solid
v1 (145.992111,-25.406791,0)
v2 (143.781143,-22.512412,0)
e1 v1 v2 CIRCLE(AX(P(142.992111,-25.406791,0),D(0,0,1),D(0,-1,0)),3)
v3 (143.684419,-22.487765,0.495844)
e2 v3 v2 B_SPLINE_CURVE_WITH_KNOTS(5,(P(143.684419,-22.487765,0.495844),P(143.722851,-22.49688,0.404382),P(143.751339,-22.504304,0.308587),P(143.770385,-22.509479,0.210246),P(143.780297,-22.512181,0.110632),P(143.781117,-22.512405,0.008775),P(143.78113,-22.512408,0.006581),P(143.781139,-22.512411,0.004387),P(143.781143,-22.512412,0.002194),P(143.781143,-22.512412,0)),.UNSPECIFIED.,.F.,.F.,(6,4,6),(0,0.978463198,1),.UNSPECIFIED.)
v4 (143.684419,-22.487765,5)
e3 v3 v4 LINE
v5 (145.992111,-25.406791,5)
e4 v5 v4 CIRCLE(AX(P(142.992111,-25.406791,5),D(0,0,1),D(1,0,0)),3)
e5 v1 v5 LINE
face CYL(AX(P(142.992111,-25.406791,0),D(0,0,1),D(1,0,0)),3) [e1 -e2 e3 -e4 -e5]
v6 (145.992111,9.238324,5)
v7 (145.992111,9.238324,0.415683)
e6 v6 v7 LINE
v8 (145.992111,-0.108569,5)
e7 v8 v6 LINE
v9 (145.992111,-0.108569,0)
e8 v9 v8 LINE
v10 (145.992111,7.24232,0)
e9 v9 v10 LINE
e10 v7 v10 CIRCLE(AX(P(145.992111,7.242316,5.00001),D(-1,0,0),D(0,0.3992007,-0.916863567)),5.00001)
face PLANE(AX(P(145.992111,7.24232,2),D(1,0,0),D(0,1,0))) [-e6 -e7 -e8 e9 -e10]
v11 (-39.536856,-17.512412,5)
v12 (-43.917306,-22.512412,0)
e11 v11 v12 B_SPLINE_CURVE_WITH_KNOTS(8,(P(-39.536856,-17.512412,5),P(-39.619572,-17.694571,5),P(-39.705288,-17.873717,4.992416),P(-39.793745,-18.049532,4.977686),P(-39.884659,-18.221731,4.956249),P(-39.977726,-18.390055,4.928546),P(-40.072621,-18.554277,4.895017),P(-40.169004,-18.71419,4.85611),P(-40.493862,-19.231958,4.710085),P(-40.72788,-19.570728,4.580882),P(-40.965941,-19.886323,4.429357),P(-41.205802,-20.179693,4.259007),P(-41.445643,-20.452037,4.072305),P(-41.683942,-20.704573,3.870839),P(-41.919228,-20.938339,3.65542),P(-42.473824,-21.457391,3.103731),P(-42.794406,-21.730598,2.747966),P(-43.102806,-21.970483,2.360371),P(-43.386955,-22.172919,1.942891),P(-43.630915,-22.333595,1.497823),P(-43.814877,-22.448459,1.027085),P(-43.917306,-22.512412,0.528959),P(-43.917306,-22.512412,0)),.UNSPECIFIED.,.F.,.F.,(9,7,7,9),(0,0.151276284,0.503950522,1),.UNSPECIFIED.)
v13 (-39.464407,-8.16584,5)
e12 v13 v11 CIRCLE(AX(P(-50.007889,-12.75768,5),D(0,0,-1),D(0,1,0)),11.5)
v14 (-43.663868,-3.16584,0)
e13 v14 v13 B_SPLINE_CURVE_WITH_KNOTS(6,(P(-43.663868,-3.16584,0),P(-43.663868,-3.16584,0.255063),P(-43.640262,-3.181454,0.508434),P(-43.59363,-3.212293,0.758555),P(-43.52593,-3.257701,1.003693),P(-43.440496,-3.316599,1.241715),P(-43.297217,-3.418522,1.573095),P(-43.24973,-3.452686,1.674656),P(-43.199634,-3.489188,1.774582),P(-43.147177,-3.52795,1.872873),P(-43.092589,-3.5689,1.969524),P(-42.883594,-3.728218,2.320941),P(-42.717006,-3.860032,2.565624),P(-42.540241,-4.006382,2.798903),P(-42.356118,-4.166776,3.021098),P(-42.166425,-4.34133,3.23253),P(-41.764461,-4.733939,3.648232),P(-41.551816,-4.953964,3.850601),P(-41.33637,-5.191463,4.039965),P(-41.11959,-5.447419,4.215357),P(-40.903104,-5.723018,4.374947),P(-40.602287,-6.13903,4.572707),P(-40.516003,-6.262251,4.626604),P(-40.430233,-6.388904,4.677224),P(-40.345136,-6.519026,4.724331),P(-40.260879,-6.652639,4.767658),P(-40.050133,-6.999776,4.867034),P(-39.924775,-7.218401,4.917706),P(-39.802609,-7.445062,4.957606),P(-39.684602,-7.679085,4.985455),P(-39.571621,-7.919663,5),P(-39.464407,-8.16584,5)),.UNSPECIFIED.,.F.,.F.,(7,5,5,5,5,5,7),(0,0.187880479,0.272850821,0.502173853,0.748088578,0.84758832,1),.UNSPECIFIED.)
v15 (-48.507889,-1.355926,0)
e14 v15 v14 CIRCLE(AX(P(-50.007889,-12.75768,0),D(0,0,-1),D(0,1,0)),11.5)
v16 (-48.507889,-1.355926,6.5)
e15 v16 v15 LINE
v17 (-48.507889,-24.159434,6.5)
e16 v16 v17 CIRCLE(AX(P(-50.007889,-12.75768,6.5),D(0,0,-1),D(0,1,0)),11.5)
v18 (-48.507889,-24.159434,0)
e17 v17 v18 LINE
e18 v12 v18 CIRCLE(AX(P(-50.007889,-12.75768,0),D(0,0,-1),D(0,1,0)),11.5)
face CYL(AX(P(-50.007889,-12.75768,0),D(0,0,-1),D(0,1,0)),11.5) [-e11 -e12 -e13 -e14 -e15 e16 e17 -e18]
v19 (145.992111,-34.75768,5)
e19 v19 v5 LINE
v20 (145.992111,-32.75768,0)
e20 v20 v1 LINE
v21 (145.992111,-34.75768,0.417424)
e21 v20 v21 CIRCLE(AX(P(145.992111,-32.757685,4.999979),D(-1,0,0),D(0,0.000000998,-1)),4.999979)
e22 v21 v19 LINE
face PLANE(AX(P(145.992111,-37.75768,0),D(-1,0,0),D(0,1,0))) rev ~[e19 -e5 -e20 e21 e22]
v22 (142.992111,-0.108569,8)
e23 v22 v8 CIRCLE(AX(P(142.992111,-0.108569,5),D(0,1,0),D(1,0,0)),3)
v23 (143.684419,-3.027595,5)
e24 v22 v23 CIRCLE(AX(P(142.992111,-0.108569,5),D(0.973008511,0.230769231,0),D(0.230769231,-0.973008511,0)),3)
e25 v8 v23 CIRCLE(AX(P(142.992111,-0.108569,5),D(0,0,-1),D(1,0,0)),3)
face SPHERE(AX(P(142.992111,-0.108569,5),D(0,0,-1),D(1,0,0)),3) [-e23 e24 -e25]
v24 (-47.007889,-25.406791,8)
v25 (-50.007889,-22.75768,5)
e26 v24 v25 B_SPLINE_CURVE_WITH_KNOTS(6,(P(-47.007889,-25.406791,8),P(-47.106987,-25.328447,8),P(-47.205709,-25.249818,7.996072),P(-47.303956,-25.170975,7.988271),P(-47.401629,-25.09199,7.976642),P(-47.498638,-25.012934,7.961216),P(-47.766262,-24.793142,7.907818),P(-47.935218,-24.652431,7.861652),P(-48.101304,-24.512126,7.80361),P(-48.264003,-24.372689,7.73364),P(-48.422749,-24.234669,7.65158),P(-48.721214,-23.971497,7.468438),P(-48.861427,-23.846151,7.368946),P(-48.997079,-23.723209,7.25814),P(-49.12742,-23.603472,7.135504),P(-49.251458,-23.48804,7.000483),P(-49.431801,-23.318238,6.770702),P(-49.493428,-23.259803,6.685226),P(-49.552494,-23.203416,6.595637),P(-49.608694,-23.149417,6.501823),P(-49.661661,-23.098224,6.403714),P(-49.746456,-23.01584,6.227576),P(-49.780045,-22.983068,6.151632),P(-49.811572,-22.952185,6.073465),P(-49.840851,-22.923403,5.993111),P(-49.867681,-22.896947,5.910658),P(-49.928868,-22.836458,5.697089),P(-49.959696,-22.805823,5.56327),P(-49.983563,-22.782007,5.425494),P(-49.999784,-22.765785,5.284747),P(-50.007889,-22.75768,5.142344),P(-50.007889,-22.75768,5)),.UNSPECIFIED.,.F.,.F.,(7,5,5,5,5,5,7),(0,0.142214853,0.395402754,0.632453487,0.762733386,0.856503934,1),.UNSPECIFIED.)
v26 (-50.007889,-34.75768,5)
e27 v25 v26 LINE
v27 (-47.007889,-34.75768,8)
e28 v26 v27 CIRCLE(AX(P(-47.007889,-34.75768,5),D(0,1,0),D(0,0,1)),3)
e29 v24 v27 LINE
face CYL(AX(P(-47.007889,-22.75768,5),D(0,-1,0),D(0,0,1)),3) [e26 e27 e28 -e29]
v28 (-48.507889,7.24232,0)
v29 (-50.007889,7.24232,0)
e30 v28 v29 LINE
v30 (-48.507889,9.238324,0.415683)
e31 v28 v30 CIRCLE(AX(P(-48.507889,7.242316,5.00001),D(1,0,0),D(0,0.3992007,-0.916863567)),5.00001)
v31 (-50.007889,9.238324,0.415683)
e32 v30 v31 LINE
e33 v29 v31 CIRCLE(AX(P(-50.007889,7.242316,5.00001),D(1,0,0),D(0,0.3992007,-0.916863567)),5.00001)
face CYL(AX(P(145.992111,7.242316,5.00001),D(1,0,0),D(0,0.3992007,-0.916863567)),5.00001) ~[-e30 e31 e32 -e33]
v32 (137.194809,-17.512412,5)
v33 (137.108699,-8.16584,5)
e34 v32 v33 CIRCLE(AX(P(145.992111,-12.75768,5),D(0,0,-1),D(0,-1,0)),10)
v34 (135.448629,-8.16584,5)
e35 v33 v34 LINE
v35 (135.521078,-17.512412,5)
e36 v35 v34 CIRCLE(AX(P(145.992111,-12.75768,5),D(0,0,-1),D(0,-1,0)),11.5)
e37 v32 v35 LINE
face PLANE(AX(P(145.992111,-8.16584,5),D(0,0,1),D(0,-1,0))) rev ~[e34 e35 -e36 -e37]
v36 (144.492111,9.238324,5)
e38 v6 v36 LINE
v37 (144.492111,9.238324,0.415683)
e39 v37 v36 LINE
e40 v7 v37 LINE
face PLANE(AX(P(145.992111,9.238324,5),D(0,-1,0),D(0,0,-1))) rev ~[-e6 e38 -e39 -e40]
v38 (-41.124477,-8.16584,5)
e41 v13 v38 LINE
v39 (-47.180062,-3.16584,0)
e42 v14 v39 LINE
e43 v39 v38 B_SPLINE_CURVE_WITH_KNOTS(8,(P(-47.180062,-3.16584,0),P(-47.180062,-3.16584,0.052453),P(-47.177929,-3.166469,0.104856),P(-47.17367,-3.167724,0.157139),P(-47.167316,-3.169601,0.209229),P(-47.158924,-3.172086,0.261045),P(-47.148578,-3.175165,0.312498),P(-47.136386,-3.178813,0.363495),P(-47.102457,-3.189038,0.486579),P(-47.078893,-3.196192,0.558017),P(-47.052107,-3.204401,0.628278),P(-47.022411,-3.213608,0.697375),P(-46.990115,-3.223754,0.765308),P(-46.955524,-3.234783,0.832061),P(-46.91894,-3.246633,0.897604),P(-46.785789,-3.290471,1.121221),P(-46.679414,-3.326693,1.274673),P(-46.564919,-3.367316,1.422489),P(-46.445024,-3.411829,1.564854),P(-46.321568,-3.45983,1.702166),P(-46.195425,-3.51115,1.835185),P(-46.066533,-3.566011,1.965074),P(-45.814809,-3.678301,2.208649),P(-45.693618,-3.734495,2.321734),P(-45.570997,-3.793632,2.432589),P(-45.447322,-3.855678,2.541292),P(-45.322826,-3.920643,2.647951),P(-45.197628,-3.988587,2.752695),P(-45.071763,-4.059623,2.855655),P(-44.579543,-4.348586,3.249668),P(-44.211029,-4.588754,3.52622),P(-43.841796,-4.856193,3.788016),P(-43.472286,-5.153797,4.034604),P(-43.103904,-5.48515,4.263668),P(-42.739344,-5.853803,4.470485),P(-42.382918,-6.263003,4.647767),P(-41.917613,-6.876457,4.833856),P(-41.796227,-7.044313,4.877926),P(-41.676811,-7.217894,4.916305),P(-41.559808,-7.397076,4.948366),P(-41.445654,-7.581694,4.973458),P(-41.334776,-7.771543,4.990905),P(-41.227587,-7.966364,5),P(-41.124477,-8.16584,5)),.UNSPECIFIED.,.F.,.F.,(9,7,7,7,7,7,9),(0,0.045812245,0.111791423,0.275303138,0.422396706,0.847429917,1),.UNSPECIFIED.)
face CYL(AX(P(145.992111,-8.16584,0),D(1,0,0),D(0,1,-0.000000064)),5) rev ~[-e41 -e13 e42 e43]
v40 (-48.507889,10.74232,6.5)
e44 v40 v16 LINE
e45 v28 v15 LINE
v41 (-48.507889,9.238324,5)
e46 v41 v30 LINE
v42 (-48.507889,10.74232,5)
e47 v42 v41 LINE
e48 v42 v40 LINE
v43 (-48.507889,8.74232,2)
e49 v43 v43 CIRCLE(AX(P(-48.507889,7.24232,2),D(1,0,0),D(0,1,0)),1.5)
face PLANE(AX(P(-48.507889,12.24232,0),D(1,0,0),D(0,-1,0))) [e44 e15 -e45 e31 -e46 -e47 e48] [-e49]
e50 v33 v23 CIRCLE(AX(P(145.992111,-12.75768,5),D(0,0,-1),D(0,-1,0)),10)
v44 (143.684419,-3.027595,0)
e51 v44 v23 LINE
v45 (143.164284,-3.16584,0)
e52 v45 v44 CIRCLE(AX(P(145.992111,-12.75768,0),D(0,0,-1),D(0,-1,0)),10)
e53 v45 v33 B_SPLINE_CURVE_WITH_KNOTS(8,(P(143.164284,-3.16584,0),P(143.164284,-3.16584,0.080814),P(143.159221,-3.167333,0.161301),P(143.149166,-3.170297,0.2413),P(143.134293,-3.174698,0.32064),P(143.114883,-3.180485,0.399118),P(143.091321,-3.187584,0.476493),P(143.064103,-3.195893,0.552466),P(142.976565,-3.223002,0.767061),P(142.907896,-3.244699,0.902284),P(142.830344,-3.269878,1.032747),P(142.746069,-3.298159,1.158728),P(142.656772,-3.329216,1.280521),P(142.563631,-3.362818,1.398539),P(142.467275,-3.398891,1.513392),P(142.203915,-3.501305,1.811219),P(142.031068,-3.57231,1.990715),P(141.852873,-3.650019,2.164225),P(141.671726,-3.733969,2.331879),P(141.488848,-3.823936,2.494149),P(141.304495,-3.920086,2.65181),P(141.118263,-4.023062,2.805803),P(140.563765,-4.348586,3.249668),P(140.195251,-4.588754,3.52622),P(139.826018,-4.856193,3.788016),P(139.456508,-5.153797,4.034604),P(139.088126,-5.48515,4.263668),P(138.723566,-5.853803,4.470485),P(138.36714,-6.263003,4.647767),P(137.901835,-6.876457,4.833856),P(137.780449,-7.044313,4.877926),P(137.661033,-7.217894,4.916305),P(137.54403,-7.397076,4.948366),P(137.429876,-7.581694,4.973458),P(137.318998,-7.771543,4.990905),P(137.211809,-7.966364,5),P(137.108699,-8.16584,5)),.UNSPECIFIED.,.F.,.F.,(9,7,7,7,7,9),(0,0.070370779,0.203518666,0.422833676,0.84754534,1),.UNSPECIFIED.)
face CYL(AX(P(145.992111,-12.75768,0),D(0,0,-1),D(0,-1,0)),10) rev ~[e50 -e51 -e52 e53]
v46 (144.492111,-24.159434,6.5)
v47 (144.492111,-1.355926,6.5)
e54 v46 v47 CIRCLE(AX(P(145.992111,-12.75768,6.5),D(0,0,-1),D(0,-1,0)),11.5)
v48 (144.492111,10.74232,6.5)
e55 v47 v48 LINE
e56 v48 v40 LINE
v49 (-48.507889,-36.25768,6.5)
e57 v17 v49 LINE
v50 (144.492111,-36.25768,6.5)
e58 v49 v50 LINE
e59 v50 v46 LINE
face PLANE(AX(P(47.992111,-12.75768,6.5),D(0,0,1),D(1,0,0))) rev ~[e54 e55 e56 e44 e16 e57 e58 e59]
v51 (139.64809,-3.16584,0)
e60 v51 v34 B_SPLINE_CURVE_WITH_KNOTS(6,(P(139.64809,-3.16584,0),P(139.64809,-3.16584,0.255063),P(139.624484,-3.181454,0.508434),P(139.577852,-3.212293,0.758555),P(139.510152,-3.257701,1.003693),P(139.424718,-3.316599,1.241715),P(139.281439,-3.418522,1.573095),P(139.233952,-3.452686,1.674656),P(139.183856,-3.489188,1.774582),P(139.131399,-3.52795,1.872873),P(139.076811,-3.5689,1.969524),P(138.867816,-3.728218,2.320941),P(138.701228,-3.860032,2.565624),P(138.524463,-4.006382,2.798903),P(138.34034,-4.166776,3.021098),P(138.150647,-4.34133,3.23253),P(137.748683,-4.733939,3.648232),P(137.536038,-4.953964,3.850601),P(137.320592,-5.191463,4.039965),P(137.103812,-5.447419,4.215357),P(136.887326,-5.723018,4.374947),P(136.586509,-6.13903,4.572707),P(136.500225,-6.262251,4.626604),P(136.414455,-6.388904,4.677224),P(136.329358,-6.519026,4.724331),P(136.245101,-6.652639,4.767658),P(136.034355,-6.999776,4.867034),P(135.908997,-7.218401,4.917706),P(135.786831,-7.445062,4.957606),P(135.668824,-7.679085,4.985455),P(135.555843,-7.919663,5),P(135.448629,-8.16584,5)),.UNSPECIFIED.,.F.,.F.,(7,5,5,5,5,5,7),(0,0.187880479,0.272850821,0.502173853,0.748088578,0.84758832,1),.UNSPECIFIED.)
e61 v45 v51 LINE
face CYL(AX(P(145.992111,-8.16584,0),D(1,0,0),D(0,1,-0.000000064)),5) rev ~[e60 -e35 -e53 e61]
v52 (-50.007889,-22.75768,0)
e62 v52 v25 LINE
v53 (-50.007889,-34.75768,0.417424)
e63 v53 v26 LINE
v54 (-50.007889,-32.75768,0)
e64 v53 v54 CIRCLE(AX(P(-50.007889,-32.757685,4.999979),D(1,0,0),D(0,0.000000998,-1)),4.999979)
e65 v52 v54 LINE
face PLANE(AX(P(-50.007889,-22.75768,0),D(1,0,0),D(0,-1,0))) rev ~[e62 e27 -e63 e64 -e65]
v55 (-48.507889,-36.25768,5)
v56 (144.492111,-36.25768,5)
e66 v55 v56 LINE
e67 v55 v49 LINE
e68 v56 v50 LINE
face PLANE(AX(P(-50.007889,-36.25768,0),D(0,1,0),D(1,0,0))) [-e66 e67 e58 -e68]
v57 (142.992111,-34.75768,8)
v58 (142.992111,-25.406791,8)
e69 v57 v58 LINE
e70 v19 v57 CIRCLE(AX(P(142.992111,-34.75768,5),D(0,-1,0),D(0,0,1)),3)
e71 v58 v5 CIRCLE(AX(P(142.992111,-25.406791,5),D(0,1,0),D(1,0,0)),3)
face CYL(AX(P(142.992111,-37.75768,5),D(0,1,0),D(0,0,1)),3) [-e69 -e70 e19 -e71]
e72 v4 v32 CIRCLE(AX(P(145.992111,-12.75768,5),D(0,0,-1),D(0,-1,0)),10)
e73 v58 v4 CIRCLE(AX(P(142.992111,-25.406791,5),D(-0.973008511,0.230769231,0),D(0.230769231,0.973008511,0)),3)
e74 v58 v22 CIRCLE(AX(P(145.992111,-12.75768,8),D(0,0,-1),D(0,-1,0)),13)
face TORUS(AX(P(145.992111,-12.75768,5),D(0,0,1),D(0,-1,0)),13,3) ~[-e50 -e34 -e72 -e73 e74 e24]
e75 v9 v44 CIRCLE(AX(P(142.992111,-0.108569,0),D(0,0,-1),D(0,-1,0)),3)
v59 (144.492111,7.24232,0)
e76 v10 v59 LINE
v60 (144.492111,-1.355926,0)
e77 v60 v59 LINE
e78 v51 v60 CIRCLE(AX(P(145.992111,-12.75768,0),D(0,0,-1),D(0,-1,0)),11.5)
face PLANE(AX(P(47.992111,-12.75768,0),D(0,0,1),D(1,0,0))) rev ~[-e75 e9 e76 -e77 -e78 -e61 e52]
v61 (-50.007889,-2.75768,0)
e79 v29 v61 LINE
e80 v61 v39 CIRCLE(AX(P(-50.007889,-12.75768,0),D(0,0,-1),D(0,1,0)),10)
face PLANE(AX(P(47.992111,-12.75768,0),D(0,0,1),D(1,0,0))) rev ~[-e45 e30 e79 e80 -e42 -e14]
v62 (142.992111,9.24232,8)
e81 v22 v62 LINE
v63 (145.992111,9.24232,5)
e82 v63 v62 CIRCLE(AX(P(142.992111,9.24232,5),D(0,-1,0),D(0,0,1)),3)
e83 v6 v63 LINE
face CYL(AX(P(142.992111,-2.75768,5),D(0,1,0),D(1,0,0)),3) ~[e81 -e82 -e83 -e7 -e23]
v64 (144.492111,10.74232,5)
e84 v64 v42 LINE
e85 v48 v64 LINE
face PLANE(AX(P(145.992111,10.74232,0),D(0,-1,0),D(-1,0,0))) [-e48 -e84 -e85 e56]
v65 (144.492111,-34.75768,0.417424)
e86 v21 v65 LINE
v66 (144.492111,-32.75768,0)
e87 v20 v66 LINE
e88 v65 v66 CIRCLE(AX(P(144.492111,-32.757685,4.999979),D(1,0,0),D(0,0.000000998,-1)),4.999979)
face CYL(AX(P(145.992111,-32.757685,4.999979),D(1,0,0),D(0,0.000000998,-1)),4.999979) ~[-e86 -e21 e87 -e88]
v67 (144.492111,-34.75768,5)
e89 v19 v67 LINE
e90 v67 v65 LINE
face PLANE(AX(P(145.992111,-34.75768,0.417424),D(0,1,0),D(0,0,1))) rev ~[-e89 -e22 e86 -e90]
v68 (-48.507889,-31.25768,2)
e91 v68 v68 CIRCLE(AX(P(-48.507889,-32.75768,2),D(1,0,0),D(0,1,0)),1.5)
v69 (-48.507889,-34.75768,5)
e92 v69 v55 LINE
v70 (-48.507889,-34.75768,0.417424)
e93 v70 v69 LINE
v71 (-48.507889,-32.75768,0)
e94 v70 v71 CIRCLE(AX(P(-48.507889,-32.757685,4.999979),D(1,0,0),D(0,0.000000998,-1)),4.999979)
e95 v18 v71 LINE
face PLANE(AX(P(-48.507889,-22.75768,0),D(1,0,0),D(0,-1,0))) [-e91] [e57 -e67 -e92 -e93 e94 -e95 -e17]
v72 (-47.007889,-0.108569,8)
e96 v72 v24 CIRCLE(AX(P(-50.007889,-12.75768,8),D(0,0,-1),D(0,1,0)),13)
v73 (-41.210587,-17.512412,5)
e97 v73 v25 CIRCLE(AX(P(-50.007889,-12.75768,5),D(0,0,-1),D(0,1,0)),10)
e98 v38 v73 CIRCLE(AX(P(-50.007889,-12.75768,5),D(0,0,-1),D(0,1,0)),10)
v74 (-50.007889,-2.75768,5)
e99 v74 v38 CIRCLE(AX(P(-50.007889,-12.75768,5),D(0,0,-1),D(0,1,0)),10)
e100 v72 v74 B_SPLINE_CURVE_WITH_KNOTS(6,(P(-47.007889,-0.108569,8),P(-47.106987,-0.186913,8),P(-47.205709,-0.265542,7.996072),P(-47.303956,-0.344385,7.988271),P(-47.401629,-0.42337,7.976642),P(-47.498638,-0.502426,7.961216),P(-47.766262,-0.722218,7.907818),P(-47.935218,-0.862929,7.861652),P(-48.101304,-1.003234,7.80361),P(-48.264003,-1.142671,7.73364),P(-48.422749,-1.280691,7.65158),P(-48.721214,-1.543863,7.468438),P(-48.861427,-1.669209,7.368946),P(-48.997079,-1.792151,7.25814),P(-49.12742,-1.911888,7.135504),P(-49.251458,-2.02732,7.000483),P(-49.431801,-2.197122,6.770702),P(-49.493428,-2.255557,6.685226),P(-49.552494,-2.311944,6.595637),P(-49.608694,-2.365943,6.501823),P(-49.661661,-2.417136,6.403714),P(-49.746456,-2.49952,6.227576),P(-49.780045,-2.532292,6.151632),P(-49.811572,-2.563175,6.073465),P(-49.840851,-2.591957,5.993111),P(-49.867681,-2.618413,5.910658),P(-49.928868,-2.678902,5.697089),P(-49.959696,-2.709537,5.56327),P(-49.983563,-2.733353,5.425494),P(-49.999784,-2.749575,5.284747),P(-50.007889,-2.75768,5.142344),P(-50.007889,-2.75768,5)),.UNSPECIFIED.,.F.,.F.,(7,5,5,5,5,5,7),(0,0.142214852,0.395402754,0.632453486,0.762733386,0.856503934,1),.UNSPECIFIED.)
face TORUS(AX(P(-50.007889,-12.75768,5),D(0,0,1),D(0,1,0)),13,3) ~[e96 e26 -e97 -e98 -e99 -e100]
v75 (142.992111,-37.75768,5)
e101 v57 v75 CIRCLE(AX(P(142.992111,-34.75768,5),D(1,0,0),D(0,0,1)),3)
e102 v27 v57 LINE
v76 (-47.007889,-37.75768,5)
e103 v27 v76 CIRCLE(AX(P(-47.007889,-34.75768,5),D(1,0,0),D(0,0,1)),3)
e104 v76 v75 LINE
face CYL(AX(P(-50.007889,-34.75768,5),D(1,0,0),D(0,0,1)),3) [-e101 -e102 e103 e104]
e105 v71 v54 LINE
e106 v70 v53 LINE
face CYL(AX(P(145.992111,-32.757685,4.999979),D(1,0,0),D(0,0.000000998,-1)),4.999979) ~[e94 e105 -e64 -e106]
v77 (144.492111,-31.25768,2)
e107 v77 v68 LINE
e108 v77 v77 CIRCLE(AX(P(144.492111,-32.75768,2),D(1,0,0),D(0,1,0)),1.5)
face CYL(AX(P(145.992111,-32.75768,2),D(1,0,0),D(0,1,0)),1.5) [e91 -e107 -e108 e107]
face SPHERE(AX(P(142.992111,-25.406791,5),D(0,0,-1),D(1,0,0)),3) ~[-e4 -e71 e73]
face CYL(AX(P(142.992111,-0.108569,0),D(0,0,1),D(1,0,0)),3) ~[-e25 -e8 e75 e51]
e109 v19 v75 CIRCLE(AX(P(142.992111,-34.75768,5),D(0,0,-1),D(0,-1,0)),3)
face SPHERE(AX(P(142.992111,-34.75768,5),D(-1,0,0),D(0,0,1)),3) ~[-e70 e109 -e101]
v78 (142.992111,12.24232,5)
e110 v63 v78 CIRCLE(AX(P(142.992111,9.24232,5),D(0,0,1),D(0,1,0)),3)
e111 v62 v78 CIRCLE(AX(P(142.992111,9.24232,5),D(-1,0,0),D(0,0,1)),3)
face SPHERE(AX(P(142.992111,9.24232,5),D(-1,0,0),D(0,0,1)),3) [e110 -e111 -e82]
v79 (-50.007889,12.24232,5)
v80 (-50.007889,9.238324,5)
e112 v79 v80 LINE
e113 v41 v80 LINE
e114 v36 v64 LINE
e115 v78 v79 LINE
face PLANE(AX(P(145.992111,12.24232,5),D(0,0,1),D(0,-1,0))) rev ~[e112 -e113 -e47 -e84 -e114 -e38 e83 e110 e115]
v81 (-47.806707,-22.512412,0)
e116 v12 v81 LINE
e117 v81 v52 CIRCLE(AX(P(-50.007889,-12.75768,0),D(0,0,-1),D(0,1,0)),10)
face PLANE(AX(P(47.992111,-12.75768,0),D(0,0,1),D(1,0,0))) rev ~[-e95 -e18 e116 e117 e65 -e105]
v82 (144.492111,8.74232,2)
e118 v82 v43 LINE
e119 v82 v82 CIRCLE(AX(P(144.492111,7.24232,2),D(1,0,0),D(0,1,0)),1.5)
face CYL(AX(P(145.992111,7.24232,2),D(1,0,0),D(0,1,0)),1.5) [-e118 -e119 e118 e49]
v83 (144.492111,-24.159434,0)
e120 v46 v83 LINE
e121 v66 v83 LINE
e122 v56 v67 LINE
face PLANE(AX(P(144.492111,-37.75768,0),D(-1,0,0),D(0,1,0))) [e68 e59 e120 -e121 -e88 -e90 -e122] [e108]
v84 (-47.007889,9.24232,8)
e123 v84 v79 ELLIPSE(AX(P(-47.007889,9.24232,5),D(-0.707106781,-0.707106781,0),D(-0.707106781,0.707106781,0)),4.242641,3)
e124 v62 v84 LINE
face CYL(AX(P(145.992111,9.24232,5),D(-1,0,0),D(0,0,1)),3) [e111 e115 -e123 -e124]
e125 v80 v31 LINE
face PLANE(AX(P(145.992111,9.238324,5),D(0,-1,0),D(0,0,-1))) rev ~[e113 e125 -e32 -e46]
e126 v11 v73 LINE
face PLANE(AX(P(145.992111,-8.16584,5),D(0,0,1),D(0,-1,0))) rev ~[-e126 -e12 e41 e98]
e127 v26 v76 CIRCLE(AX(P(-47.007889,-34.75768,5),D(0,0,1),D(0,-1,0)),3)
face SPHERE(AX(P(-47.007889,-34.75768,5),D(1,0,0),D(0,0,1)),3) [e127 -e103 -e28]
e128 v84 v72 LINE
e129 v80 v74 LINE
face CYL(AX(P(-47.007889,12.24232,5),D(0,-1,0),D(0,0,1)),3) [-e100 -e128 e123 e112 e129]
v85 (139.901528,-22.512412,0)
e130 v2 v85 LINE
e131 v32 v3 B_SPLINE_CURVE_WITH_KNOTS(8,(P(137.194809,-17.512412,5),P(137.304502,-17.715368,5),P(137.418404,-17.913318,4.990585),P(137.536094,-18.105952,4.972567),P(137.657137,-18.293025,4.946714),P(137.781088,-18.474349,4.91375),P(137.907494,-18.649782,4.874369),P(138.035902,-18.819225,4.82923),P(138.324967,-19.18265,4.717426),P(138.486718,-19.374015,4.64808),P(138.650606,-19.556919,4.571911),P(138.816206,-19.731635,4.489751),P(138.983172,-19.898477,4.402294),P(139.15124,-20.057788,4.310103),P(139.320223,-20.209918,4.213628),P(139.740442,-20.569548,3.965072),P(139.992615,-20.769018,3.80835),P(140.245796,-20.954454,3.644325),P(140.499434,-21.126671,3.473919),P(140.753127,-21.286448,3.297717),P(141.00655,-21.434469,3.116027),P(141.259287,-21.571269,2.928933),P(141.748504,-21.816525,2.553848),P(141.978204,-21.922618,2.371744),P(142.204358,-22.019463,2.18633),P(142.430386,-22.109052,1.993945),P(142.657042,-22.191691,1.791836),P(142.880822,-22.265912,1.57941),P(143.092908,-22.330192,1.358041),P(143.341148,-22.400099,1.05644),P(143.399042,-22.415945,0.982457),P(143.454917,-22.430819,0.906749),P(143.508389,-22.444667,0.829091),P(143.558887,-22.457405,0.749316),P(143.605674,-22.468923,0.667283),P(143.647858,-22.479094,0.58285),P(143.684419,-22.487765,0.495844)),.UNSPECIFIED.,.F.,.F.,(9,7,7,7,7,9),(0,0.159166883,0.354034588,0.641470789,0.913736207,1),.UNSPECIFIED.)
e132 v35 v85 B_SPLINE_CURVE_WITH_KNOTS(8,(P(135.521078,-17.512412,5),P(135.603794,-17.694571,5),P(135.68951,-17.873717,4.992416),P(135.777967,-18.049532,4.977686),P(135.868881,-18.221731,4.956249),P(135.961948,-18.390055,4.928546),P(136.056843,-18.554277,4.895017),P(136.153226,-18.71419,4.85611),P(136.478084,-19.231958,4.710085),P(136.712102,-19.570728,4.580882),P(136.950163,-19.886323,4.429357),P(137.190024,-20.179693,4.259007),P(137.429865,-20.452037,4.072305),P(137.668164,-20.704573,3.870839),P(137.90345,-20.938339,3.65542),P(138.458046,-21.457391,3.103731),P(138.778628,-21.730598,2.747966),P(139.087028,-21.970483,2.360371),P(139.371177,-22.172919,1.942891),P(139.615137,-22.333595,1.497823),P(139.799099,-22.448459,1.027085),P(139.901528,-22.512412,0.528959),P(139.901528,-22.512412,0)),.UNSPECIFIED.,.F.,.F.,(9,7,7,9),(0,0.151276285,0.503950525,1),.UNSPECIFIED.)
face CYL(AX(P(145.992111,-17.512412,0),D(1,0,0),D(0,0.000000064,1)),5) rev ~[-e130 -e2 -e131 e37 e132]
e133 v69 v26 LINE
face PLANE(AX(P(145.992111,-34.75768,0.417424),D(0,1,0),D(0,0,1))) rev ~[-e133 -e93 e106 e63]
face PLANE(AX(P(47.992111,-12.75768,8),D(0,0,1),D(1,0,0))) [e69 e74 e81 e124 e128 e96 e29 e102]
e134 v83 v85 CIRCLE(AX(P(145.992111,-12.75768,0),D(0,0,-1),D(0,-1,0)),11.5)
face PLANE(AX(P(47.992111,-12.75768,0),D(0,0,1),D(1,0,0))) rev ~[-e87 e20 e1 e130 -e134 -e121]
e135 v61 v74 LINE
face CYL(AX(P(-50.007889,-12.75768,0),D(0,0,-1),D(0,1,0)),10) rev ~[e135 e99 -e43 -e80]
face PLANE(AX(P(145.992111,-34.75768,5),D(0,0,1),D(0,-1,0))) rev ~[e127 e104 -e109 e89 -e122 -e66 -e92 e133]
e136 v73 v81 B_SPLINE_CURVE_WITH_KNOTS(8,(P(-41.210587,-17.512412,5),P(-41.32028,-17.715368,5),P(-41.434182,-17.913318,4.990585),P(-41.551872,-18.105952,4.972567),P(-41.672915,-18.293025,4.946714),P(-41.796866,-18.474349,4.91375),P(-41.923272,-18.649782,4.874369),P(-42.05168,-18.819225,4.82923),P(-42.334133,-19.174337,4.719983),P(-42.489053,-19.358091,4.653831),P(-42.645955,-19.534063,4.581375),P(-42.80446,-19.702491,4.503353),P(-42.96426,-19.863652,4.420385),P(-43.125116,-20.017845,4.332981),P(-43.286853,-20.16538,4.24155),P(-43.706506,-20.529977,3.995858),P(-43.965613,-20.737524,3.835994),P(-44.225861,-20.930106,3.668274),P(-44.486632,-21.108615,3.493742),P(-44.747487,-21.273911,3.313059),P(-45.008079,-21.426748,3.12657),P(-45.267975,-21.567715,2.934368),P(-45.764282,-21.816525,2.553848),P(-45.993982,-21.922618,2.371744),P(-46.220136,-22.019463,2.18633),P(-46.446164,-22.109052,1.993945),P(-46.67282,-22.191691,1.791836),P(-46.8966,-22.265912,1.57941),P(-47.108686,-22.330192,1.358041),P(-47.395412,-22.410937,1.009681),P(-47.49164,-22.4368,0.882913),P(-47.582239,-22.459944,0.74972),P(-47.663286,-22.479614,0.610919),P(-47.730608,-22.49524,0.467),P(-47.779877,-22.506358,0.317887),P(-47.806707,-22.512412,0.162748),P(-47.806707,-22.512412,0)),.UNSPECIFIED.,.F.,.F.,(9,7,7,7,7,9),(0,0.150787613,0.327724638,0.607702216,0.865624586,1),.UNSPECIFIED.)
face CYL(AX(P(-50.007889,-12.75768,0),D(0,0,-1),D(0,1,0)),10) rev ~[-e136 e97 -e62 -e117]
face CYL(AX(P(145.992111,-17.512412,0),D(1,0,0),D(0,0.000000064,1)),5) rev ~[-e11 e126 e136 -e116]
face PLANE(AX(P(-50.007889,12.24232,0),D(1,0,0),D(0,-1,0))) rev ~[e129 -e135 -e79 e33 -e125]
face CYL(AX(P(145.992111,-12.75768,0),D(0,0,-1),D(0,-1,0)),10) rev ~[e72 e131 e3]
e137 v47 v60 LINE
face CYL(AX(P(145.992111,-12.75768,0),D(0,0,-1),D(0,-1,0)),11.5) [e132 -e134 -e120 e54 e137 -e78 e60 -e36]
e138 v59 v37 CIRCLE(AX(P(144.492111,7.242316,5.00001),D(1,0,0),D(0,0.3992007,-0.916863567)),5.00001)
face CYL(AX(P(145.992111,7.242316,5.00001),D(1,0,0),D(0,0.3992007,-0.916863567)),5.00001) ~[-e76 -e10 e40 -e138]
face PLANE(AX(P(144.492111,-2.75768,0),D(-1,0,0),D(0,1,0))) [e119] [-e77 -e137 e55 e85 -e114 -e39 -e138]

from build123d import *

# Parameters (mm, degrees)
F1_DEPTH  = 8
F3_T      = -1.5
F2_R      = 1.5
F4_DEPTH  = 196
F6_DEPTH  = 196.001
F7_R      = 3
F9_DEPTH  = 196.001
F11_DEPTH = 196.001


with BuildPart() as f1:
    # F0 (on Top) → F1 (new body)
    with BuildSketch(Plane.XY):
        with BuildLine():
            Line((145.992111, 12.24232), (-50.007889, 12.24232))
            Line((-50.007889, 12.24232), (-50.007889, -2.75768))
            ThreePointArc((-50.007889, -2.75768), (-40.007889, -12.75768), (-50.007889, -22.75768))
            Line((-50.007889, -22.75768), (-50.007889, -37.75768))
            Line((-50.007889, -37.75768), (145.992111, -37.75768))
            Line((145.992111, -37.75768), (145.992111, -22.75768))
            ThreePointArc((145.992111, -22.75768), (135.992111, -12.75768), (145.992111, -2.75768))
            Line((145.992111, -2.75768), (145.992111, 12.24232))
        make_face()
    extrude(amount=F1_DEPTH)

    # F3
    f3_openings = [f1.faces().sort_by_distance(p)[0] for p in [
        (47.992111, -12.75768, 0),
    ]]
    offset(amount=F3_T, openings=f3_openings)

    # F2 (on face) → F4 (join, through all)
    with BuildSketch(Plane.YZ.offset(145.992111)):
        with Locations((7.24232, 2)):
            Circle(F2_R)
        with Locations((-32.75768, 2)):
            Circle(F2_R)
    extrude(amount=-F4_DEPTH)

    # F5 (on face) → F6 (cut, through all)
    with BuildSketch(Plane(origin=(-50.007889, 0, 0), x_dir=(0, -1, 0), z_dir=(-1, 0, 0))):
        with BuildLine():
            ThreePointArc((-15.24232, 1.255437), (-17.447156, 3.75963), (-18.24232, 7))
            Line((-18.24232, 7), (-18.24232, 0.071797))
            ThreePointArc((-18.24232, 0.071797), (-16.673224, 0.488491), (-15.24232, 1.255437))
        make_face()
        with BuildLine():
            ThreePointArc((-12.24232, 7), (-13.037483, 3.75963), (-15.24232, 1.255437))
            ThreePointArc((-15.24232, 1.255437), (-13.811415, 0.488491), (-12.24232, 0.071797))
            Line((-12.24232, 0.071797), (-12.24232, 7))
        make_face()
        with BuildLine():
            ThreePointArc((-12.24232, 0.071797), (-13.811415, 0.488491), (-15.24232, 1.255437))
            ThreePointArc((-15.24232, 1.255437), (-16.673224, 0.488491), (-18.24232, 0.071797))
            Line((-18.24232, 0.071797), (-18.24232, 0))
            Line((-18.24232, 0), (-12.24232, 0))
            Line((-12.24232, 0), (-12.24232, 0.071797))
        make_face()
        with BuildLine():
            Line((-18.24232, 0), (-18.24232, 0.071797))
            ThreePointArc((-18.24232, 0.071797), (-18.741033, 0.017972), (-19.24232, 0))
            Line((-19.24232, 0), (-18.24232, 0))
        make_face()
        with BuildLine():
            ThreePointArc((-11.24232, 0), (-11.743607, 0.017972), (-12.24232, 0.071797))
            Line((-12.24232, 0.071797), (-12.24232, 0))
            Line((-12.24232, 0), (-11.24232, 0))
        make_face()
    extrude(amount=-F6_DEPTH, mode=Mode.SUBTRACT)

    # F7
    f7_edges = [f1.edges().sort_by_distance(p)[0] for p in [
        (47.992111, -37.75768, 8),
        (47.992111, 12.24232, 8),
        (145.992111, 4.74232, 8),
        (145.992111, -30.25768, 8),
        (135.992111, -12.75768, 8),
        (-50.007889, 4.74232, 8),
        (-40.007889, -12.75768, 8),
        (-50.007889, -30.25768, 8),
        (145.992111, -37.75768, 4),
        (145.992111, 12.24232, 4.035898),
        (-50.007889, -37.75768, 4),
        (145.992111, -2.75768, 4),
        (145.992111, -22.75768, 4),
    ]]
    fillet(f7_edges, radius=F7_R)

    # F8 (on face) → F9 (cut, through all)
    with BuildSketch(Plane.YZ.offset(145.992111)):
        with BuildLine():
            ThreePointArc((-17.512412, 5), (-21.047946, 3.535534), (-22.512412, 0))
            Line((-22.512412, 0), (-3.16584, 0))
            ThreePointArc((-3.16584, 0), (-4.630306, 3.535534), (-8.16584, 5))
            Line((-8.16584, 5), (-17.512412, 5))
        make_face()
    extrude(amount=-F9_DEPTH, mode=Mode.SUBTRACT)

    # F10 (on face) → F11 (cut, through all)
    with BuildSketch(Plane.YZ.offset(145.992111)):
        with BuildLine():
            ThreePointArc((-32.75768, 0), (-33.779229, 0.105468), (-34.75768, 0.417424))
            Line((-34.75768, 0.417424), (-34.75768, 5))
            Line((-34.75768, 5), (-37.75768, 5))
            Line((-37.75768, 5), (-37.75768, 0))
            Line((-37.75768, 0), (-32.75768, 0))
        make_face()
        with BuildLine():
            Line((7.24232, 0), (7.751559, 0))
            Line((7.751559, 0), (12.24232, 0))
            Line((12.24232, 0), (12.24232, 5))
            Line((12.24232, 5), (9.238324, 5))
            Line((9.238324, 5), (9.238324, 0.415683))
            ThreePointArc((9.238324, 0.415683), (8.261734, 0.105024), (7.24232, 0))
        make_face()
    extrude(amount=-F11_DEPTH, mode=Mode.SUBTRACT)


solid = f1.part
